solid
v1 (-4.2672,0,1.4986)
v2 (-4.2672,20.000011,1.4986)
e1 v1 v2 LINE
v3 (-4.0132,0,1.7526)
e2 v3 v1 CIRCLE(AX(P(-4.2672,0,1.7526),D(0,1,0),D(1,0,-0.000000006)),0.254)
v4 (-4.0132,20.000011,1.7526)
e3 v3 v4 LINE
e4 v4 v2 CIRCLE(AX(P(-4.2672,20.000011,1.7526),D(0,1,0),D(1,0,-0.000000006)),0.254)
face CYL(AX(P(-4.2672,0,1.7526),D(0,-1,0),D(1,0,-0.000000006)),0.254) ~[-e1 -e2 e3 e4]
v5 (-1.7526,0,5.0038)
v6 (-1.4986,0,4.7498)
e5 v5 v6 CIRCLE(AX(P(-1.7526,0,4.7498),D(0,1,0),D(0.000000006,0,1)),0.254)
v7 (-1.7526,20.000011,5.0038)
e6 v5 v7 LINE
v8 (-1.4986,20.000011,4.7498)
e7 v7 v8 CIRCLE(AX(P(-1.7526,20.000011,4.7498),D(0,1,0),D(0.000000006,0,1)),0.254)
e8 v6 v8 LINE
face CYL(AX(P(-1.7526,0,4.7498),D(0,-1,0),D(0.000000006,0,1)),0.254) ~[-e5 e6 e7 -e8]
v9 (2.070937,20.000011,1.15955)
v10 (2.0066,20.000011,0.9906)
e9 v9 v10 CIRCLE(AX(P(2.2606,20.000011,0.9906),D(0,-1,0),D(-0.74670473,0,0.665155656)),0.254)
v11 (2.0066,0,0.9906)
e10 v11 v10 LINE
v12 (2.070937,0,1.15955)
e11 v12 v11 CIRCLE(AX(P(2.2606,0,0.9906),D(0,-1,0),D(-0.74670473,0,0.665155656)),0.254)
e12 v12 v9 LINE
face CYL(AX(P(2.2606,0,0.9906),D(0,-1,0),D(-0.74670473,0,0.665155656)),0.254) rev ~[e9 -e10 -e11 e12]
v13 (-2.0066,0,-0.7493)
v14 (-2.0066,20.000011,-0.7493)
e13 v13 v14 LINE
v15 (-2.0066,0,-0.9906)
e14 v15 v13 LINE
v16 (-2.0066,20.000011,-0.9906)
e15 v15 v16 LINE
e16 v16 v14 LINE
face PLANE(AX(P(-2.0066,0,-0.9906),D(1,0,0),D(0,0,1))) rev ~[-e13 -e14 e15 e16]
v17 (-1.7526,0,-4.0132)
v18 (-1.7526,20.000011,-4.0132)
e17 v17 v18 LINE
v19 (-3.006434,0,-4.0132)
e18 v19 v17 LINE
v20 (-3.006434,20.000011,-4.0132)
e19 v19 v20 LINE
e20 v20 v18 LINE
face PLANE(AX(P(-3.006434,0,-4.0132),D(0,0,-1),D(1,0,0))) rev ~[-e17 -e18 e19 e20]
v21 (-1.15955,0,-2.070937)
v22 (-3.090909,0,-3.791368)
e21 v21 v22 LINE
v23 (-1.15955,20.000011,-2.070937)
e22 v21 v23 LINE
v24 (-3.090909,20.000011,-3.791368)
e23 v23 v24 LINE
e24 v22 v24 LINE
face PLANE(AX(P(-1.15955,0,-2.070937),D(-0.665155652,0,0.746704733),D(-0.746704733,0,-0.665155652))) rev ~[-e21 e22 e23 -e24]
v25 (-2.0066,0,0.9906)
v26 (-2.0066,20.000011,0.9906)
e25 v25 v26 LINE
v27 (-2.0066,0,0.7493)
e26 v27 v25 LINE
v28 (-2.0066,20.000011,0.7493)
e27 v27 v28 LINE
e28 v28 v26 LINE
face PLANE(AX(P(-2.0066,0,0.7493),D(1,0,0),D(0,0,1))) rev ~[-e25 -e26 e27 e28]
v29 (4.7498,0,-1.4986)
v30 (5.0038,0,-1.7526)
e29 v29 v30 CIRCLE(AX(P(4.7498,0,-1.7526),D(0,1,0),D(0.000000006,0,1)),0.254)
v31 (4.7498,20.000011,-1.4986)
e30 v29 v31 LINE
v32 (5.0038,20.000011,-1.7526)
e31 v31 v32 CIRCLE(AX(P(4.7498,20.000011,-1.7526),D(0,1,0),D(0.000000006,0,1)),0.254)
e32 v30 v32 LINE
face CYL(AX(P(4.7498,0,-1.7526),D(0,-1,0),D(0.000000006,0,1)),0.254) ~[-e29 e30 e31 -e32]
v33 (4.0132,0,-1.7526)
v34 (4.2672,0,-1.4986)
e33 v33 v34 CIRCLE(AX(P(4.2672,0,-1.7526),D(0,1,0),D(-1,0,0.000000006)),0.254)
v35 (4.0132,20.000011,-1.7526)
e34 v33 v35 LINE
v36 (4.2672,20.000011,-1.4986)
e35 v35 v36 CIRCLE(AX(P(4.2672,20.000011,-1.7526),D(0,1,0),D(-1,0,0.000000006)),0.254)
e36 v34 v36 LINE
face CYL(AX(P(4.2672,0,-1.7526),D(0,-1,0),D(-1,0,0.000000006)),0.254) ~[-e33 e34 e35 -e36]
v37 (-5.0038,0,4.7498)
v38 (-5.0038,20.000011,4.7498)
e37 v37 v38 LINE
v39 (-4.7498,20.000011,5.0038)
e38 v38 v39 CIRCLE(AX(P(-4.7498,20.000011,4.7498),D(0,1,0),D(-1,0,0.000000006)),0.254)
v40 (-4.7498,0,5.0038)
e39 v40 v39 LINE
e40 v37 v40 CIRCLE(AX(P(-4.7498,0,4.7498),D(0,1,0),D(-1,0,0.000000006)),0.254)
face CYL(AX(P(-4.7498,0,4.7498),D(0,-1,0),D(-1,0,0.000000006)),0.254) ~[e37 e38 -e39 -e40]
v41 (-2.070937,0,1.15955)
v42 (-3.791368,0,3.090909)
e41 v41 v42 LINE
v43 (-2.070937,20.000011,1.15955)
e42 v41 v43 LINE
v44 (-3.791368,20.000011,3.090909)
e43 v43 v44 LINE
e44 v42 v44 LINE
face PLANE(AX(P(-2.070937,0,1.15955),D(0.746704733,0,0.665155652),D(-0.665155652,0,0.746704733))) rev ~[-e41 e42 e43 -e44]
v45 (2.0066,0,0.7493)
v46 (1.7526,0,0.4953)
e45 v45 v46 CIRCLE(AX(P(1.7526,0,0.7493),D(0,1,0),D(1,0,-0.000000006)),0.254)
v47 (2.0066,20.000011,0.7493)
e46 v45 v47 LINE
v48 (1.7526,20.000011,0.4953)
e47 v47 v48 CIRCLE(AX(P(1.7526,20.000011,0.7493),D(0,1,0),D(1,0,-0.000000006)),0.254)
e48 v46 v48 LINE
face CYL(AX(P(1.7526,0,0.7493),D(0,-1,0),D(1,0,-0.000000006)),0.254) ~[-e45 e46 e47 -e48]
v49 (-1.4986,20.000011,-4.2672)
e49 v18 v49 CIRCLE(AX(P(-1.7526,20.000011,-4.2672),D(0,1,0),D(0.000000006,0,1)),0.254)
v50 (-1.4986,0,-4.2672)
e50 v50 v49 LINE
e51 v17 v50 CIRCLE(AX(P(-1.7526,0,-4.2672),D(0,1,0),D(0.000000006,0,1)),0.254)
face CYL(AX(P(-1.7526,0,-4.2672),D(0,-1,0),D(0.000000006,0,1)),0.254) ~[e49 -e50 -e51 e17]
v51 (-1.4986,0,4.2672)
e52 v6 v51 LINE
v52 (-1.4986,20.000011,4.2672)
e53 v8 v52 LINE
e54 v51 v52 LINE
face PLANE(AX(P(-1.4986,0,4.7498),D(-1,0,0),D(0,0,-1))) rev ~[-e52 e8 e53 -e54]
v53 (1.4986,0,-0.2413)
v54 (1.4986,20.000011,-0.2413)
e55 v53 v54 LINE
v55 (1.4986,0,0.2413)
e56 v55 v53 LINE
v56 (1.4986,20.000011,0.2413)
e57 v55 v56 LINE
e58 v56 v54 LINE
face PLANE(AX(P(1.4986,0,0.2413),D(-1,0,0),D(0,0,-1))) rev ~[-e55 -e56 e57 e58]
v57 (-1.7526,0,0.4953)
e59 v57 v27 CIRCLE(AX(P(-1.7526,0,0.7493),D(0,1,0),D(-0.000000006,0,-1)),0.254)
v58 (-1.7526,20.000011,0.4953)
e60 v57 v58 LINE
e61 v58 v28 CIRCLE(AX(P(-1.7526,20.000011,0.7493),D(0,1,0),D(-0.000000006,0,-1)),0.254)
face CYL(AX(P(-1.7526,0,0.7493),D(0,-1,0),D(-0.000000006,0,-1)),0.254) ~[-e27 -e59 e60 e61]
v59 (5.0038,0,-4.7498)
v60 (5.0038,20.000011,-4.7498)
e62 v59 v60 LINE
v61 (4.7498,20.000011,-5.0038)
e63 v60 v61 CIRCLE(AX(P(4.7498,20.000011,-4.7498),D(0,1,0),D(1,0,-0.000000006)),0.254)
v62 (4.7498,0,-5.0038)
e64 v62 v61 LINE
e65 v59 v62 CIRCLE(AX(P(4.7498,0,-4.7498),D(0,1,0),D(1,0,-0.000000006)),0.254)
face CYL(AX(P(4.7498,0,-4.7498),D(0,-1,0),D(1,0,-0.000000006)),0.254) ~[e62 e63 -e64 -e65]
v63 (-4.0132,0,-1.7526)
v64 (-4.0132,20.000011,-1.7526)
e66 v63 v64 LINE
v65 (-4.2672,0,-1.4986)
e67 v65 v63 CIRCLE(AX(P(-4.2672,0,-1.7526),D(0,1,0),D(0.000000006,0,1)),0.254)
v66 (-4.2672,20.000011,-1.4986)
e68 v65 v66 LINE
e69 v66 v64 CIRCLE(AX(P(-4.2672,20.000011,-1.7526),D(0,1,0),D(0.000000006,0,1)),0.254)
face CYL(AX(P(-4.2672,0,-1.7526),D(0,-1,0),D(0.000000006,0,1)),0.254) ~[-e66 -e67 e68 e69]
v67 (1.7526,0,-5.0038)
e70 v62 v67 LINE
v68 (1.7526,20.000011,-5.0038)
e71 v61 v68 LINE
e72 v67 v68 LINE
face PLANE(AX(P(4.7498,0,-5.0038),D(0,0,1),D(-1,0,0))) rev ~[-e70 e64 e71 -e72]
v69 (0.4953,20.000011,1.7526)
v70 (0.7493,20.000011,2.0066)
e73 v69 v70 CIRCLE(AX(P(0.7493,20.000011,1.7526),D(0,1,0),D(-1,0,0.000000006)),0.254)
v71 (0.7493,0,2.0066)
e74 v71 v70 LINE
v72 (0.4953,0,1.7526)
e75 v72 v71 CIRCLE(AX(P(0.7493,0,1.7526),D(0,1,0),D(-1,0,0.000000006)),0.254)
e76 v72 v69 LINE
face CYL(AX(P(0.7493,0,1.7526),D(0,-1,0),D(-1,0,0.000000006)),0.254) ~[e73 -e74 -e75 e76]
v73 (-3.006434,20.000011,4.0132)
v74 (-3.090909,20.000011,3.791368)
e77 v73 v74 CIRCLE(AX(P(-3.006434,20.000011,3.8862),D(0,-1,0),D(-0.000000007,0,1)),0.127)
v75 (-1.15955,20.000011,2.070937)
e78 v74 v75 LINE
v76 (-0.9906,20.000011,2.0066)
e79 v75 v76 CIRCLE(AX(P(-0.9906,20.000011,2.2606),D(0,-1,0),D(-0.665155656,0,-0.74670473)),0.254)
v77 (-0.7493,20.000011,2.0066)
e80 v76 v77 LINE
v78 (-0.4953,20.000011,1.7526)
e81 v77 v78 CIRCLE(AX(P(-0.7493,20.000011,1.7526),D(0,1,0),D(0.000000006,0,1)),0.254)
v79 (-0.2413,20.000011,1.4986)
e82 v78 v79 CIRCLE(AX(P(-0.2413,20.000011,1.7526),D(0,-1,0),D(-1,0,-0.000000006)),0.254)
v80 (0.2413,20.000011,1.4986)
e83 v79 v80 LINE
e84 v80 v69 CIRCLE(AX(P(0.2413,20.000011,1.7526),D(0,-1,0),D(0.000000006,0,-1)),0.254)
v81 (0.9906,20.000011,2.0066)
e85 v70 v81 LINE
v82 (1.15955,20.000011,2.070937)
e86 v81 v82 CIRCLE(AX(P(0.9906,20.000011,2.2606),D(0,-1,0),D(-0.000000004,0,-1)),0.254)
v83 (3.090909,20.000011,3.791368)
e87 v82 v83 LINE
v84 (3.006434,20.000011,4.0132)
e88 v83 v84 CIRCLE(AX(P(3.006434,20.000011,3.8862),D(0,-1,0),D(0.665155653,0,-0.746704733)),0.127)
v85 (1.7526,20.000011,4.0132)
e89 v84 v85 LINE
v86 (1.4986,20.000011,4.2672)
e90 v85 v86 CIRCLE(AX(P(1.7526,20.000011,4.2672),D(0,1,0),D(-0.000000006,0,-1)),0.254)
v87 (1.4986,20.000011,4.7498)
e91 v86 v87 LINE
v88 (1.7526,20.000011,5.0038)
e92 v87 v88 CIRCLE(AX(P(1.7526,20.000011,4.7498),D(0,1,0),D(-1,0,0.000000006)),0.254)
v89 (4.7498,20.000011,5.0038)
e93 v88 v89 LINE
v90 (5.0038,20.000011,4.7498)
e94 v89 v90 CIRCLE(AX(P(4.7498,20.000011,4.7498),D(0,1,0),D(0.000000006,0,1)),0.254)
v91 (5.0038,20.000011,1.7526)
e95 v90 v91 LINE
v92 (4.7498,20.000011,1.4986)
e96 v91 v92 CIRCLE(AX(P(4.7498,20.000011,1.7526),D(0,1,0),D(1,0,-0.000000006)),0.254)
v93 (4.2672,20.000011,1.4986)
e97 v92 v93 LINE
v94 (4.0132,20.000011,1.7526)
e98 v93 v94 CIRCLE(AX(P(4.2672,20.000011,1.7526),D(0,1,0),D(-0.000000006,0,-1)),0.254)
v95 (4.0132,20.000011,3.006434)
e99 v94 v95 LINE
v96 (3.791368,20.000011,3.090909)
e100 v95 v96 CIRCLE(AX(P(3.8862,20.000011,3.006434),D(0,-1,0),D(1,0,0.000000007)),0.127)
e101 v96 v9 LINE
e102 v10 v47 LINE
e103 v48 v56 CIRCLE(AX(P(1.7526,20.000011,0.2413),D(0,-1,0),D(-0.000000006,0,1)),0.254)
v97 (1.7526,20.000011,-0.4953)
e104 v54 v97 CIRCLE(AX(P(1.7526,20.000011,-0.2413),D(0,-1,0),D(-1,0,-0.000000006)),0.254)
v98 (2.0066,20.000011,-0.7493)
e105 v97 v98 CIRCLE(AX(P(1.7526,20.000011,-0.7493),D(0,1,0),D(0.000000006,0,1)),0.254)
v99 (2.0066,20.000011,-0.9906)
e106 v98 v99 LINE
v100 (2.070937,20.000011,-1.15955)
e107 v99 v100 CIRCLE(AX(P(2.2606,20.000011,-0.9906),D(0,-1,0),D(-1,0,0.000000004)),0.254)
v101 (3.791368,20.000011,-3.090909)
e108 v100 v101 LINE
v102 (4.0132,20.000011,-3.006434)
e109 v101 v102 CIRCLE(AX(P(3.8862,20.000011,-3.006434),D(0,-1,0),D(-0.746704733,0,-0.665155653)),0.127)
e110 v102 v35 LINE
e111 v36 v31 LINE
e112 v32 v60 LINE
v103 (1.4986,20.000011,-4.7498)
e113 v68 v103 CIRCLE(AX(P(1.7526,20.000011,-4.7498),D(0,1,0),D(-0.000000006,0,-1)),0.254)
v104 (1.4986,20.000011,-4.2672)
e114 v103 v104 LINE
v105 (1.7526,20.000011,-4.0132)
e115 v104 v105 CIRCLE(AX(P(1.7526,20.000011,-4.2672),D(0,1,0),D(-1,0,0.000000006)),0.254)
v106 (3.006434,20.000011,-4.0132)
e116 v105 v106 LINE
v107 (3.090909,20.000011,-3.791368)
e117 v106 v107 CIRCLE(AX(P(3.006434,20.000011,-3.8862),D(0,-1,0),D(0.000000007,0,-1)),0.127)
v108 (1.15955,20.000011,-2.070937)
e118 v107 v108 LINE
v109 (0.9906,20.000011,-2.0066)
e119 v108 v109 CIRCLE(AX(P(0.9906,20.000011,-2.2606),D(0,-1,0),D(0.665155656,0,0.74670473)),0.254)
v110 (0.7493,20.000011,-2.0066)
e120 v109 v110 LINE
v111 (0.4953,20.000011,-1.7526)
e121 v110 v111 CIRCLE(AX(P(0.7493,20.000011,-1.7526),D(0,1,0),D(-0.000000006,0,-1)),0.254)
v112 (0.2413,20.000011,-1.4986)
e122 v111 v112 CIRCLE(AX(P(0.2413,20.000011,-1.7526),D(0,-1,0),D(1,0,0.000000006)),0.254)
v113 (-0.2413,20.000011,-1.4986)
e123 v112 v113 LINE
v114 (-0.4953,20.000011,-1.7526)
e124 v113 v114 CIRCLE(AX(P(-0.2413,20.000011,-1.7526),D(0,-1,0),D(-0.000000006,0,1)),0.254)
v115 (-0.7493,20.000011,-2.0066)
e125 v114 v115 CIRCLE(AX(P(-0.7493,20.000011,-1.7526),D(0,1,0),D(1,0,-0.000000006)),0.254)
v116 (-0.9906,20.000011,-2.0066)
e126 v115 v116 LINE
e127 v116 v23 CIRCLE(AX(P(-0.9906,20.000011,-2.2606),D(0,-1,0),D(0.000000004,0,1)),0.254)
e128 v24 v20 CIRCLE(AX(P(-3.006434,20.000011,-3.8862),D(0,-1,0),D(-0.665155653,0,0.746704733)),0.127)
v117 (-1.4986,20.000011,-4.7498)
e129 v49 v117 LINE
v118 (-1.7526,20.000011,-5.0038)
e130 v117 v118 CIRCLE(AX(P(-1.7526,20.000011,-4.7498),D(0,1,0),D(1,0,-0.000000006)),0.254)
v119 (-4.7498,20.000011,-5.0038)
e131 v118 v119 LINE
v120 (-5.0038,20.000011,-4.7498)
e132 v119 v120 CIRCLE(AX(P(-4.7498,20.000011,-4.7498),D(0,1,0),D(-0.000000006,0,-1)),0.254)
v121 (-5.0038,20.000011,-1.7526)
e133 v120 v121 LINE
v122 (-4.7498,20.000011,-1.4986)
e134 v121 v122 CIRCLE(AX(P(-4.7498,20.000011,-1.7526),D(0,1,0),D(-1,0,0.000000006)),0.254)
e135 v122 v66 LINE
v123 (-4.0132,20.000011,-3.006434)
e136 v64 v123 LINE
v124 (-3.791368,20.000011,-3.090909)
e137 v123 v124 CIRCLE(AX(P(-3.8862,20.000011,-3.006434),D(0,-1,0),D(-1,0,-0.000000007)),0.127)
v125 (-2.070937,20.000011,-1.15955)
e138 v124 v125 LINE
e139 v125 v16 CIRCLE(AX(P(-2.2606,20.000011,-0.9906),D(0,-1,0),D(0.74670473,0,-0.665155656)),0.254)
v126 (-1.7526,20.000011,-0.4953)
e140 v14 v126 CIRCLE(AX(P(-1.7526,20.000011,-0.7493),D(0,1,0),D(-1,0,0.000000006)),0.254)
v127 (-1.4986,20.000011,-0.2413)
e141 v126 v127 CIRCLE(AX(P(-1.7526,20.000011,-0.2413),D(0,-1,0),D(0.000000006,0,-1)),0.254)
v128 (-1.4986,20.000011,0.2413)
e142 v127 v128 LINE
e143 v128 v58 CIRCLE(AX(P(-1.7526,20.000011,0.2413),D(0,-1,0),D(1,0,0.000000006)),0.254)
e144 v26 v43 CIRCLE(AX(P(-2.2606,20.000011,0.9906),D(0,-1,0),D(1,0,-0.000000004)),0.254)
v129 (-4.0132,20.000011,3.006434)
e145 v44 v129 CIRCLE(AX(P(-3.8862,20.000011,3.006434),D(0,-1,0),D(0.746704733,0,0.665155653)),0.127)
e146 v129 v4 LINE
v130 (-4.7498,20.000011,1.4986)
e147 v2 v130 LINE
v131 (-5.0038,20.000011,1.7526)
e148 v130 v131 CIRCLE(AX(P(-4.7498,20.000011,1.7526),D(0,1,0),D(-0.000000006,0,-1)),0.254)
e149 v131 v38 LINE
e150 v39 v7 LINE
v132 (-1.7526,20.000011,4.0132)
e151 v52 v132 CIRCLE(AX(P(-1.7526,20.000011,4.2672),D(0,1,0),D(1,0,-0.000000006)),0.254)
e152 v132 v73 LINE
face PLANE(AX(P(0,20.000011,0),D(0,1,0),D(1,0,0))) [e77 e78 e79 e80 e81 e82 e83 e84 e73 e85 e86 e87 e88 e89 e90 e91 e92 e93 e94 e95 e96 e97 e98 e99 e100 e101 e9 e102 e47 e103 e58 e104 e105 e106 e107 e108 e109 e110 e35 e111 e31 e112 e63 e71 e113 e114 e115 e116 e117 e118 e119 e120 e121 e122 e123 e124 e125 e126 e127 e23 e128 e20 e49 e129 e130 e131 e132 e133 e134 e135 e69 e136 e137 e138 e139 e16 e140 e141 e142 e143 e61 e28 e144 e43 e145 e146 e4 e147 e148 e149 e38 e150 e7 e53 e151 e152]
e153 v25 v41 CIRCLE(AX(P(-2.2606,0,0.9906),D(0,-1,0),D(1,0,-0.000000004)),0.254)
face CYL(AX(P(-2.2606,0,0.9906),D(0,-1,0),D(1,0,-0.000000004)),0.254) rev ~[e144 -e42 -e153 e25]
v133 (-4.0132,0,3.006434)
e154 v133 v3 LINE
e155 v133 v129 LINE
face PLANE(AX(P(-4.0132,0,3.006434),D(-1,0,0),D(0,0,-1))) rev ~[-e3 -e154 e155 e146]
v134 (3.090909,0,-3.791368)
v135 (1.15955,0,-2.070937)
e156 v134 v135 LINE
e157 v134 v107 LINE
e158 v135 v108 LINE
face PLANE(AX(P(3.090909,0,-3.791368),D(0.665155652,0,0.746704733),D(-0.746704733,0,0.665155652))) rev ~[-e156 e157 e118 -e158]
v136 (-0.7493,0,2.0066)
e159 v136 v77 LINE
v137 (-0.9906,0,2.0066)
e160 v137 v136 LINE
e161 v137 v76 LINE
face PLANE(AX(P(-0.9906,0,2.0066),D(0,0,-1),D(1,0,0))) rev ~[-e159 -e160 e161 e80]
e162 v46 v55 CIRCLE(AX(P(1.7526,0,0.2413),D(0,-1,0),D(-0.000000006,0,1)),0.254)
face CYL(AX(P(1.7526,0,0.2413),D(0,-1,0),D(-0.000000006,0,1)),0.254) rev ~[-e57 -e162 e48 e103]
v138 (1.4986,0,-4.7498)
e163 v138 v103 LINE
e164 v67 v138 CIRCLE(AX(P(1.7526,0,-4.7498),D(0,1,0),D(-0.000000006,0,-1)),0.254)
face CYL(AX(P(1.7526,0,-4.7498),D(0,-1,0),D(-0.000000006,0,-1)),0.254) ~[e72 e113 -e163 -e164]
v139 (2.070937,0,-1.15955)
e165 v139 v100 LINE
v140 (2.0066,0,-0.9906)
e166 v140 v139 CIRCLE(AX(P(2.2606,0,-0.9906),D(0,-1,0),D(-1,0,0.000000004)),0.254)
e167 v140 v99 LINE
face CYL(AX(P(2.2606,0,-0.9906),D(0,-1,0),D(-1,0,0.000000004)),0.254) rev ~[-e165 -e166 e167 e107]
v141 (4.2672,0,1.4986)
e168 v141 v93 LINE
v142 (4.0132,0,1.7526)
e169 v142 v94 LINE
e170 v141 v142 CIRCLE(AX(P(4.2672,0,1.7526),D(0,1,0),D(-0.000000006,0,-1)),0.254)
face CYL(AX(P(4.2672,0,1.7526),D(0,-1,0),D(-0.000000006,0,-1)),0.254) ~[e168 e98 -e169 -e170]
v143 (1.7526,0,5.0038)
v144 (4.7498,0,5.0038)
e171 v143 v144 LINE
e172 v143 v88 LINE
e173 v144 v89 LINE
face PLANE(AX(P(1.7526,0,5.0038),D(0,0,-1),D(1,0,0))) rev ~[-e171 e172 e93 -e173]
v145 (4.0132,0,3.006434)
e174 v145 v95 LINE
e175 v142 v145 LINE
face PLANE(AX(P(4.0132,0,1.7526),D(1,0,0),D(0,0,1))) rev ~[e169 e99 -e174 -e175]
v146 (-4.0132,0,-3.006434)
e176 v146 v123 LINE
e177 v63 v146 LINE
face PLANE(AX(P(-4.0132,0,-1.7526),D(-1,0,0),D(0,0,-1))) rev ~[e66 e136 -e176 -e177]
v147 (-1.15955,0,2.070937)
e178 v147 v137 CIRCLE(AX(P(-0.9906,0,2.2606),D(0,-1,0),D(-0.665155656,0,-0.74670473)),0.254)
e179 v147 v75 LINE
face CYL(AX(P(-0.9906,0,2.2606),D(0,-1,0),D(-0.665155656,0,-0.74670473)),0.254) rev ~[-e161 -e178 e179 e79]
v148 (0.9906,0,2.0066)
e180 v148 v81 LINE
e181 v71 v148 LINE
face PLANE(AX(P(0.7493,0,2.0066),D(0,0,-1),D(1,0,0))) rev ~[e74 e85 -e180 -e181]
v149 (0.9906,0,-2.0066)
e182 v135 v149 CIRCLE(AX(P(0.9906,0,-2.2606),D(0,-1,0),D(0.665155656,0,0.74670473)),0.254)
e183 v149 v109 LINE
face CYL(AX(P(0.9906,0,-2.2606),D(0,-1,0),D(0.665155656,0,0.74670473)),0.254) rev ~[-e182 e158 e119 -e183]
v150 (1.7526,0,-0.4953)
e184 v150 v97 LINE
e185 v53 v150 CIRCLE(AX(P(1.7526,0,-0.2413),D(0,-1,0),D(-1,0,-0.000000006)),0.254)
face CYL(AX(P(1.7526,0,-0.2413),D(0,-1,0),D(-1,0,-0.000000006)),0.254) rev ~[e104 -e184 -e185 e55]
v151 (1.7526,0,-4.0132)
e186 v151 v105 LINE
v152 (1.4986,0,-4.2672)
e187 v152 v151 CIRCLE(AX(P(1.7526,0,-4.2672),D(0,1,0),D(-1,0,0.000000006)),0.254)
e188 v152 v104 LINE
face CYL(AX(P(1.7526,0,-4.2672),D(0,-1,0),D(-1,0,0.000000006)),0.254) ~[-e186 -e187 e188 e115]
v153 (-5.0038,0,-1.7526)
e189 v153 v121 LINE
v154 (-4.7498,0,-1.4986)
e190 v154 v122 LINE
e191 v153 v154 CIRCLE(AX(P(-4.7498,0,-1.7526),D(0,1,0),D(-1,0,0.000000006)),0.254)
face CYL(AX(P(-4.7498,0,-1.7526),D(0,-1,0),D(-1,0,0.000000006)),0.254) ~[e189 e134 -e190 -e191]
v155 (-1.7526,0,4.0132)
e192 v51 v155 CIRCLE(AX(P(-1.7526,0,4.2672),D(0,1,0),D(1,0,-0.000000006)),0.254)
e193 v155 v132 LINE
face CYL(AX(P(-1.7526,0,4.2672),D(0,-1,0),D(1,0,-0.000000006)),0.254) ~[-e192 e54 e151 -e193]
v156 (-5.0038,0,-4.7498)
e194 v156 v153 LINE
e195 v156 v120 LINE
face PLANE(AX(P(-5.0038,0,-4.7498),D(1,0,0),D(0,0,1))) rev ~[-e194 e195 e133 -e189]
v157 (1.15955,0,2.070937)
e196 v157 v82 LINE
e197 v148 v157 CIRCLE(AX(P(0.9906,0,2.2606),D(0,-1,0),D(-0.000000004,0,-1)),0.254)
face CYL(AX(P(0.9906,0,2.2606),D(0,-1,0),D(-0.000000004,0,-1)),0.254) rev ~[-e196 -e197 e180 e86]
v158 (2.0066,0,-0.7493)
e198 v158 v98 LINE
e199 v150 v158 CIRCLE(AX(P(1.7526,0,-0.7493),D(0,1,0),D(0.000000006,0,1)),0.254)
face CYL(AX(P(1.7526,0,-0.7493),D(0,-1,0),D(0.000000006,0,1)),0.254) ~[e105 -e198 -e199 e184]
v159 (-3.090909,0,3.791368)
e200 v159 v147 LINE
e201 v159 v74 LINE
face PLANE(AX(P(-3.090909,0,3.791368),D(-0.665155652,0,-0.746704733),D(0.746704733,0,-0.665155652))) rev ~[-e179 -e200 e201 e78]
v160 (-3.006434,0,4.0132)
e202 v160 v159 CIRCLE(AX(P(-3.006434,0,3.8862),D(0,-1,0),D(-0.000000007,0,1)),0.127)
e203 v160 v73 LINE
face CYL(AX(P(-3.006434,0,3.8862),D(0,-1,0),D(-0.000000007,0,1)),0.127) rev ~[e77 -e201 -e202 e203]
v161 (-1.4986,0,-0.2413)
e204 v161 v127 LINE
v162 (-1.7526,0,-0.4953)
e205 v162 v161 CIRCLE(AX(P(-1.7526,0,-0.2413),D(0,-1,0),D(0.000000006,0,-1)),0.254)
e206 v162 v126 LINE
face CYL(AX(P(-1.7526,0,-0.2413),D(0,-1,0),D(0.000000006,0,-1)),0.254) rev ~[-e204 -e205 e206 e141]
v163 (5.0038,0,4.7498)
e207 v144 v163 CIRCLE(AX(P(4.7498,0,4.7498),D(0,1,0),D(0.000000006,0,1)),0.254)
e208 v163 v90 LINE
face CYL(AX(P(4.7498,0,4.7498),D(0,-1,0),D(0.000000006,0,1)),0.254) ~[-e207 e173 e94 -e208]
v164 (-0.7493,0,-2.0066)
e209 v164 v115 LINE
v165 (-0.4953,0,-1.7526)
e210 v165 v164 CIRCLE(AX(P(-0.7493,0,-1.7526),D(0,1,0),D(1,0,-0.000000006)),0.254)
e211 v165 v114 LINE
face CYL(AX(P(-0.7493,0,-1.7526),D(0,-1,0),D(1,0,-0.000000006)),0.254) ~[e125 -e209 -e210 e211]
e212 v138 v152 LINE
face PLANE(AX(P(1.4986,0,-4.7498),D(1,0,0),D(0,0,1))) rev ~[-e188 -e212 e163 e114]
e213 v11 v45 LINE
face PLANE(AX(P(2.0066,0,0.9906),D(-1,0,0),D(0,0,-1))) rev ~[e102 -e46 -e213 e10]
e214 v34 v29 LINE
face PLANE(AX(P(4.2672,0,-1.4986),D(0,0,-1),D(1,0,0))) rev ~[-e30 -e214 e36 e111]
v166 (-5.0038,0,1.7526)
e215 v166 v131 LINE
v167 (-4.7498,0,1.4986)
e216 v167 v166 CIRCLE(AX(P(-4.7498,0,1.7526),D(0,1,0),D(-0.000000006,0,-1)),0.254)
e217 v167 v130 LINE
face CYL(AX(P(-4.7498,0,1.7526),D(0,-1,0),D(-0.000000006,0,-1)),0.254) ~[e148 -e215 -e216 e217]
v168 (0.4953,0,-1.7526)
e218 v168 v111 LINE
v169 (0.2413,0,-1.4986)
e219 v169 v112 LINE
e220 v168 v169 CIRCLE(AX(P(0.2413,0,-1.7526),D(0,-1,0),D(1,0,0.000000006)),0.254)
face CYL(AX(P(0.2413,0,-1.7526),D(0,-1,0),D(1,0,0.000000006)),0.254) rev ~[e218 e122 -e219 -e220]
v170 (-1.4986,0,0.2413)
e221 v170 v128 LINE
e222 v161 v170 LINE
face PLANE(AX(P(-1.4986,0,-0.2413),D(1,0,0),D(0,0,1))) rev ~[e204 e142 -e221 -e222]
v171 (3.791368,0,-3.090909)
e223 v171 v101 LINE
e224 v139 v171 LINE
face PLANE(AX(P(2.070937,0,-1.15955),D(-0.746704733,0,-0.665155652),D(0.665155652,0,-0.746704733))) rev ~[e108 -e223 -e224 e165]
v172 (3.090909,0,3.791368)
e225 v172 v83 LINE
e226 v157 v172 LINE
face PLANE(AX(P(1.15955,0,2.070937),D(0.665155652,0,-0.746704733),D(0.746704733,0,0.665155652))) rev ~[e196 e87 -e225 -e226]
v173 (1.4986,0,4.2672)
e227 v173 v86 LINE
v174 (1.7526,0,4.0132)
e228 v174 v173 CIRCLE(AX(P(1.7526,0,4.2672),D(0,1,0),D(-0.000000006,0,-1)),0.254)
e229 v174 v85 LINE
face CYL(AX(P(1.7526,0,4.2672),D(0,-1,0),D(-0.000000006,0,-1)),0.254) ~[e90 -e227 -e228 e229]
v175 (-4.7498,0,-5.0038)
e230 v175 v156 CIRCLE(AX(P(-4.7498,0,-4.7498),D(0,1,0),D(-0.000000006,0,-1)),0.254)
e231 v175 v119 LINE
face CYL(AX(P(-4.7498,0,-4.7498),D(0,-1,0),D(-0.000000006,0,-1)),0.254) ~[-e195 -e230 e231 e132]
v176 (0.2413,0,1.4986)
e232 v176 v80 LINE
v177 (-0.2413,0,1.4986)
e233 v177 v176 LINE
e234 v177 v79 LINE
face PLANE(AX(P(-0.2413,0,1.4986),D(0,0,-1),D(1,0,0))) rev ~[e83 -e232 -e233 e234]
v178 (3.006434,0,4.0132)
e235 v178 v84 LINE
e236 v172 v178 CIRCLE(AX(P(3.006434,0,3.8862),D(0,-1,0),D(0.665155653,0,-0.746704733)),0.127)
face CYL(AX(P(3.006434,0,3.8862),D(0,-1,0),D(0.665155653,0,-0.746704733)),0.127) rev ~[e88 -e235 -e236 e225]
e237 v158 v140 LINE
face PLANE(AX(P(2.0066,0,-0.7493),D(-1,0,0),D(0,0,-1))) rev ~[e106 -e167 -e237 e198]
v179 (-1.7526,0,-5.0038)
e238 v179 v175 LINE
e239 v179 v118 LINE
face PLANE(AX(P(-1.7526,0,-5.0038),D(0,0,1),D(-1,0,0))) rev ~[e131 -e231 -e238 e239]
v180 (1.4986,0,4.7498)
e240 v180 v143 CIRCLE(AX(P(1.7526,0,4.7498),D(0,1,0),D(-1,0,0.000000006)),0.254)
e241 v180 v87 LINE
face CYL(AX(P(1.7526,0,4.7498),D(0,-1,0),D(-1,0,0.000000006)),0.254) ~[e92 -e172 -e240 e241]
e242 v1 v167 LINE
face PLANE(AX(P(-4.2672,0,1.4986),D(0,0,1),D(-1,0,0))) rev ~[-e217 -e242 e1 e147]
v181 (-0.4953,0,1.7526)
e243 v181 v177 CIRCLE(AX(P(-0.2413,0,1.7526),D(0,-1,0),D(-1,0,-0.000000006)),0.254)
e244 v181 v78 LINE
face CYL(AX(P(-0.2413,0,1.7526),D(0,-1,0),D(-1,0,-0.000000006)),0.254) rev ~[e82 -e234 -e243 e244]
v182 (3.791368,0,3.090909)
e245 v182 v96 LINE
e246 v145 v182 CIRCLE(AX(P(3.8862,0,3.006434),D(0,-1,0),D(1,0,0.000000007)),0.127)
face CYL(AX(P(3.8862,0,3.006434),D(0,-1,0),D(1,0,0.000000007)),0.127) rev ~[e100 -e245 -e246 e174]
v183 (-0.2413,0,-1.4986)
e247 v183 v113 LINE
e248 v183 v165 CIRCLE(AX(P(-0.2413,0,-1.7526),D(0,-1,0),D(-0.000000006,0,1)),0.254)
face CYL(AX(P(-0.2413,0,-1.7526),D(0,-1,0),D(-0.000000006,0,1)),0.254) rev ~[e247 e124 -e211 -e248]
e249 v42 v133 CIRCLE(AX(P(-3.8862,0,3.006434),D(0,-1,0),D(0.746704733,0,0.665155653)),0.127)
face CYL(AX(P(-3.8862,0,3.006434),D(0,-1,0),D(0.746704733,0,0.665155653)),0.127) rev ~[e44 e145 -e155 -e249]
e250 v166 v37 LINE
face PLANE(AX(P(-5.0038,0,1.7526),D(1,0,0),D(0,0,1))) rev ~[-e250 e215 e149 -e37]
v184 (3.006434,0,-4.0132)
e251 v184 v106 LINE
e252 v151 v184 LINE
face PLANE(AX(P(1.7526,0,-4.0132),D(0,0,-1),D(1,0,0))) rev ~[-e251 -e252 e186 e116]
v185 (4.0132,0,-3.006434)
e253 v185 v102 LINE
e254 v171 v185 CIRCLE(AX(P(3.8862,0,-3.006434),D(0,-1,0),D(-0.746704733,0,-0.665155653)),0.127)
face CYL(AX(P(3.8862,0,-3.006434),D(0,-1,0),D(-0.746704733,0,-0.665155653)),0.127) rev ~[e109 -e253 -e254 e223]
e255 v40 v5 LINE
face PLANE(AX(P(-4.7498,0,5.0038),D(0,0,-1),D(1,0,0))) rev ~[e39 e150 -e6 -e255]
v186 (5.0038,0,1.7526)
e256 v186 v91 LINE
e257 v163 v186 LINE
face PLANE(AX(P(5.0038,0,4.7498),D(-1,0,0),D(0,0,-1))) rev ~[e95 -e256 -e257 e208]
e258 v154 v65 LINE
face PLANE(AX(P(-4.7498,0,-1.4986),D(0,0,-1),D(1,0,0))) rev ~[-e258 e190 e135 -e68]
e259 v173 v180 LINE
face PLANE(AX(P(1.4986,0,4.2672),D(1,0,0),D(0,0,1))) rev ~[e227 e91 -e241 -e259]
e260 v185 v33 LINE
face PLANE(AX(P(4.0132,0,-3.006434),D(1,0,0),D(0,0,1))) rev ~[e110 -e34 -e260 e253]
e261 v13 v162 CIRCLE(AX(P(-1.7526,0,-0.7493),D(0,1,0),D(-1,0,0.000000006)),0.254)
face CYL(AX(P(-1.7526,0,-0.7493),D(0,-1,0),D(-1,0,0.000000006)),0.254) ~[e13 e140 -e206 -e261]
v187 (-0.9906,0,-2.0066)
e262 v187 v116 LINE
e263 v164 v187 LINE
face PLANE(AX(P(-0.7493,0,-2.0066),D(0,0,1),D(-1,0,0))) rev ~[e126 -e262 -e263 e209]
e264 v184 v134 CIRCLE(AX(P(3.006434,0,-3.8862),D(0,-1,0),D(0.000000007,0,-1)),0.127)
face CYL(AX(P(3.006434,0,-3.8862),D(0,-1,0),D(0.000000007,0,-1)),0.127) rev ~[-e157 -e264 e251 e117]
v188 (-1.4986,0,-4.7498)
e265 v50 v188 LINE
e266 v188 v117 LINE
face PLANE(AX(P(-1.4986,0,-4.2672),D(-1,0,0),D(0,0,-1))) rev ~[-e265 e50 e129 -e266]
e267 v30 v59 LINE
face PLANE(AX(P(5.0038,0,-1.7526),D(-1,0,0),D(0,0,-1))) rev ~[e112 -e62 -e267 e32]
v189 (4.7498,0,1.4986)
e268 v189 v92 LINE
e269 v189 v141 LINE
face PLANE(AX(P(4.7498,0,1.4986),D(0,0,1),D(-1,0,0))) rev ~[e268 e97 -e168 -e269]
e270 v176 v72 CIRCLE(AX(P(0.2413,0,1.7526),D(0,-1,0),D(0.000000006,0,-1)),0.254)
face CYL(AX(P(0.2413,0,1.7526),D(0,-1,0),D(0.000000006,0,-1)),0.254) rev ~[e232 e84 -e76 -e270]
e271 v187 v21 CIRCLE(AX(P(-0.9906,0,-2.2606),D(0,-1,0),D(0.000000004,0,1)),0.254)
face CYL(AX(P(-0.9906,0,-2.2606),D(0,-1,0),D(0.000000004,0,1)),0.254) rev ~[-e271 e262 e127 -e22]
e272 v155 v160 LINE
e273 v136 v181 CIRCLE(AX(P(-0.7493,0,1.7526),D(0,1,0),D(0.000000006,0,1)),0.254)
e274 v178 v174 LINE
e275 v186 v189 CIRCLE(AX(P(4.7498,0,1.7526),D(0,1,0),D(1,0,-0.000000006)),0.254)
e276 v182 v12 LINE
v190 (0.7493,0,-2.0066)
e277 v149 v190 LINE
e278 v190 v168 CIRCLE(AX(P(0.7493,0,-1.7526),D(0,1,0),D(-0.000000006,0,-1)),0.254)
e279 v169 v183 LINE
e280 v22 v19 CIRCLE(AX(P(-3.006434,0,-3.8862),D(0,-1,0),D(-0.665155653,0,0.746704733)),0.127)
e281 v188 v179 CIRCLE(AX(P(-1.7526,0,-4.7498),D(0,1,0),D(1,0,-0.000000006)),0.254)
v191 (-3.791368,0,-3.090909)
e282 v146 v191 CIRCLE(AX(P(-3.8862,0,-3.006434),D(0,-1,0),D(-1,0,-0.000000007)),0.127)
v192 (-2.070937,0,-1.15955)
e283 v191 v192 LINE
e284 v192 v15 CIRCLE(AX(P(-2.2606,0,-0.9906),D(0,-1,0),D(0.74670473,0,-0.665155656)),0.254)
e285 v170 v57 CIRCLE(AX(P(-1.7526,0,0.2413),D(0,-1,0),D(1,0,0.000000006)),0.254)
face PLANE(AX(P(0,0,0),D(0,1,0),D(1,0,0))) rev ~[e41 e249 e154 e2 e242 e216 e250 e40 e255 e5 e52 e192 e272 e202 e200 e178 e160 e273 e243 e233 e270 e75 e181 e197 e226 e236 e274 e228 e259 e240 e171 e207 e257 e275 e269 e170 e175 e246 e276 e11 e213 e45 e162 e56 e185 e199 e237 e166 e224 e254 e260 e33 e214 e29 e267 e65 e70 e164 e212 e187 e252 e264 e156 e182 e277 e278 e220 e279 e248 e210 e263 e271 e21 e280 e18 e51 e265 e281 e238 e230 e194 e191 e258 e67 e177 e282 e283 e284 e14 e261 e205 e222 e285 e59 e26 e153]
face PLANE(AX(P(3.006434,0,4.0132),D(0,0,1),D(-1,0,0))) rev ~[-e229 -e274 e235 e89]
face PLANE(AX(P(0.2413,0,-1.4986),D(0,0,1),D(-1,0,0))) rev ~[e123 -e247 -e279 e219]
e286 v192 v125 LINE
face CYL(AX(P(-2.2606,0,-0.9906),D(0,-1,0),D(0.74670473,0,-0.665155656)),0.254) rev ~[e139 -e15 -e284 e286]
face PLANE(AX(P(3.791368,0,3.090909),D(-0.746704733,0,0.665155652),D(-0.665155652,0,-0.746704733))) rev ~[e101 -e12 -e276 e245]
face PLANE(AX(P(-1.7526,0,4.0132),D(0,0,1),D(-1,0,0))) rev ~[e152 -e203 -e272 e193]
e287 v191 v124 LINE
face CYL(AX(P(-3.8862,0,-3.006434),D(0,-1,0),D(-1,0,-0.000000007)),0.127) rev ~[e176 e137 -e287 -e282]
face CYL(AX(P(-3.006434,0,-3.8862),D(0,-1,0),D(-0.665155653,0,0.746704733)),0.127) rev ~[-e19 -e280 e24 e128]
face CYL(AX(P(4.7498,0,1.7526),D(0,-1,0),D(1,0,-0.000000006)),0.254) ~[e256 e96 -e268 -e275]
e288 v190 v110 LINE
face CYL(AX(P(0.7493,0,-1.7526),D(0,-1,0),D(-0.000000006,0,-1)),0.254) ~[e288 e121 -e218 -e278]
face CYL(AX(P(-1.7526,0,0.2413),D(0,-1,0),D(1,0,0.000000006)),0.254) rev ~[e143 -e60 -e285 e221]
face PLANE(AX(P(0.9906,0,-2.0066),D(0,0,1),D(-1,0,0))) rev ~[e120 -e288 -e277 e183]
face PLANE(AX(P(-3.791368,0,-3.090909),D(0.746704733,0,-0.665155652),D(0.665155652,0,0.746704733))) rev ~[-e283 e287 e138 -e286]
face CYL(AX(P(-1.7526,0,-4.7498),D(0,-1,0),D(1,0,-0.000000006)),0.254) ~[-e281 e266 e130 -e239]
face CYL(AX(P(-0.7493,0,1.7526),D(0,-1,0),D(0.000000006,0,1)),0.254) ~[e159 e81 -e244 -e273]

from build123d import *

# Parameters (mm, degrees)
BOSS_EXTRUDE1_DEPTH = 20.0000108


with BuildPart() as part:
    # Sketch1 → Boss-Extrude1 (new body)
    with BuildSketch(Plane(origin=(0, 0, 0), x_dir=(1, 0, 0), z_dir=(0, 1, 0))):
        with BuildLine():
            Line((-1.159549536, 2.070936998), (-3.090908521, 3.791368499))
            ThreePointArc((-3.090908521, 3.791368499), (-3.125119474, 3.931396235), (-3.006433754, 4.0132))
            Line((-3.006433754, 4.0132), (-1.7526, 4.0132))
            ThreePointArc((-1.7526, 4.0132), (-1.572994878, 4.087594878), (-1.4986, 4.2672))
            Line((-1.4986, 4.2672), (-1.4986, 4.7498))
            ThreePointArc((-1.4986, 4.7498), (-1.572994878, 4.929405122), (-1.7526, 5.0038))
            Line((-1.7526, 5.0038), (-4.7498, 5.0038))
            ThreePointArc((-4.7498, 5.0038), (-4.929405122, 4.929405122), (-5.0038, 4.7498))
            Line((-5.0038, 4.7498), (-5.0038, 1.7526))
            ThreePointArc((-5.0038, 1.7526), (-4.929405122, 1.572994878), (-4.7498, 1.4986))
            Line((-4.7498, 1.4986), (-4.2672, 1.4986))
            ThreePointArc((-4.2672, 1.4986), (-4.087594878, 1.572994878), (-4.0132, 1.7526))
            Line((-4.0132, 1.7526), (-4.0132, 3.006433754))
            ThreePointArc((-4.0132, 3.006433754), (-3.931396235, 3.125119474), (-3.791368499, 3.090908521))
            Line((-3.791368499, 3.090908521), (-2.070936998, 1.159549536))
            ThreePointArc((-2.070936998, 1.159549536), (-2.023228558, 1.08099247), (-2.0066, 0.9906))
            Line((-2.0066, 0.9906), (-2.0066, 0.7493))
            ThreePointArc((-2.0066, 0.7493), (-1.932205122, 0.569694878), (-1.7526, 0.4953))
            ThreePointArc((-1.7526, 0.4953), (-1.572994878, 0.420905122), (-1.4986, 0.2413))
            Line((-1.4986, 0.2413), (-1.4986, -0.2413))
            ThreePointArc((-1.4986, -0.2413), (-1.572994878, -0.420905122), (-1.7526, -0.4953))
            ThreePointArc((-1.7526, -0.4953), (-1.932205122, -0.569694878), (-2.0066, -0.7493))
            Line((-2.0066, -0.7493), (-2.0066, -0.9906))
            ThreePointArc((-2.0066, -0.9906), (-2.023228558, -1.08099247), (-2.070936998, -1.159549536))
            Line((-2.070936998, -1.159549536), (-3.791368499, -3.090908521))
            ThreePointArc((-3.791368499, -3.090908521), (-3.931396235, -3.125119474), (-4.0132, -3.006433754))
            Line((-4.0132, -3.006433754), (-4.0132, -1.7526))
            ThreePointArc((-4.0132, -1.7526), (-4.087594878, -1.572994878), (-4.2672, -1.4986))
            Line((-4.2672, -1.4986), (-4.7498, -1.4986))
            ThreePointArc((-4.7498, -1.4986), (-4.929405122, -1.572994878), (-5.0038, -1.7526))
            Line((-5.0038, -1.7526), (-5.0038, -4.7498))
            ThreePointArc((-5.0038, -4.7498), (-4.929405122, -4.929405122), (-4.7498, -5.0038))
            Line((-4.7498, -5.0038), (-1.7526, -5.0038))
            ThreePointArc((-1.7526, -5.0038), (-1.572994878, -4.929405122), (-1.4986, -4.7498))
            Line((-1.4986, -4.7498), (-1.4986, -4.2672))
            ThreePointArc((-1.4986, -4.2672), (-1.572994878, -4.087594878), (-1.7526, -4.0132))
            Line((-1.7526, -4.0132), (-3.006433754, -4.0132))
            ThreePointArc((-3.006433754, -4.0132), (-3.125119474, -3.931396235), (-3.090908521, -3.791368499))
            Line((-3.090908521, -3.791368499), (-1.159549536, -2.070936998))
            ThreePointArc((-1.159549536, -2.070936998), (-1.08099247, -2.023228558), (-0.9906, -2.0066))
            Line((-0.9906, -2.0066), (-0.7493, -2.0066))
            ThreePointArc((-0.7493, -2.0066), (-0.569694878, -1.932205122), (-0.4953, -1.7526))
            ThreePointArc((-0.4953, -1.7526), (-0.420905122, -1.572994878), (-0.2413, -1.4986))
            Line((-0.2413, -1.4986), (0.2413, -1.4986))
            ThreePointArc((0.2413, -1.4986), (0.420905122, -1.572994878), (0.4953, -1.7526))
            ThreePointArc((0.4953, -1.7526), (0.569694878, -1.932205122), (0.7493, -2.0066))
            Line((0.7493, -2.0066), (0.9906, -2.0066))
            ThreePointArc((0.9906, -2.0066), (1.08099247, -2.023228558), (1.159549536, -2.070936998))
            Line((1.159549536, -2.070936998), (3.090908521, -3.791368499))
            ThreePointArc((3.090908521, -3.791368499), (3.125119474, -3.931396235), (3.006433754, -4.0132))
            Line((3.006433754, -4.0132), (1.7526, -4.0132))
            ThreePointArc((1.7526, -4.0132), (1.572994878, -4.087594878), (1.4986, -4.2672))
            Line((1.4986, -4.2672), (1.4986, -4.7498))
            ThreePointArc((1.4986, -4.7498), (1.572994878, -4.929405122), (1.7526, -5.0038))
            Line((1.7526, -5.0038), (4.7498, -5.0038))
            ThreePointArc((4.7498, -5.0038), (4.929405122, -4.929405122), (5.0038, -4.7498))
            Line((5.0038, -4.7498), (5.0038, -1.7526))
            ThreePointArc((5.0038, -1.7526), (4.929405122, -1.572994878), (4.7498, -1.4986))
            Line((4.7498, -1.4986), (4.2672, -1.4986))
            ThreePointArc((4.2672, -1.4986), (4.087594878, -1.572994878), (4.0132, -1.7526))
            Line((4.0132, -1.7526), (4.0132, -3.006433754))
            ThreePointArc((4.0132, -3.006433754), (3.931396235, -3.125119474), (3.791368499, -3.090908521))
            Line((3.791368499, -3.090908521), (2.070936998, -1.159549536))
            ThreePointArc((2.070936998, -1.159549536), (2.023228558, -1.08099247), (2.0066, -0.9906))
            Line((2.0066, -0.9906), (2.0066, -0.7493))
            ThreePointArc((2.0066, -0.7493), (1.932205122, -0.569694878), (1.7526, -0.4953))
            ThreePointArc((1.7526, -0.4953), (1.572994878, -0.420905122), (1.4986, -0.2413))
            Line((1.4986, -0.2413), (1.4986, 0.2413))
            ThreePointArc((1.4986, 0.2413), (1.572994878, 0.420905122), (1.7526, 0.4953))
            ThreePointArc((1.7526, 0.4953), (1.932205122, 0.569694878), (2.0066, 0.7493))
            Line((2.0066, 0.7493), (2.0066, 0.9906))
            ThreePointArc((2.0066, 0.9906), (2.023228558, 1.08099247), (2.070936998, 1.159549536))
            Line((2.070936998, 1.159549536), (3.791368499, 3.090908521))
            ThreePointArc((3.791368499, 3.090908521), (3.931396235, 3.125119474), (4.0132, 3.006433754))
            Line((4.0132, 3.006433754), (4.0132, 1.7526))
            ThreePointArc((4.0132, 1.7526), (4.087594878, 1.572994878), (4.2672, 1.4986))
            Line((4.2672, 1.4986), (4.7498, 1.4986))
            ThreePointArc((4.7498, 1.4986), (4.929405122, 1.572994878), (5.0038, 1.7526))
            Line((5.0038, 1.7526), (5.0038, 4.7498))
            ThreePointArc((5.0038, 4.7498), (4.929405122, 4.929405122), (4.7498, 5.0038))
            Line((4.7498, 5.0038), (1.7526, 5.0038))
            ThreePointArc((1.7526, 5.0038), (1.572994878, 4.929405122), (1.4986, 4.7498))
            Line((1.4986, 4.7498), (1.4986, 4.2672))
            ThreePointArc((1.4986, 4.2672), (1.572994878, 4.087594878), (1.7526, 4.0132))
            Line((1.7526, 4.0132), (3.006433754, 4.0132))
            ThreePointArc((3.006433754, 4.0132), (3.125119474, 3.931396235), (3.090908521, 3.791368499))
            Line((3.090908521, 3.791368499), (1.159549536, 2.070936998))
            ThreePointArc((1.159549536, 2.070936998), (1.08099247, 2.023228558), (0.9906, 2.0066))
            Line((0.9906, 2.0066), (0.7493, 2.0066))
            ThreePointArc((0.7493, 2.0066), (0.569694878, 1.932205122), (0.4953, 1.7526))
            ThreePointArc((0.4953, 1.7526), (0.420905122, 1.572994878), (0.2413, 1.4986))
            Line((0.2413, 1.4986), (-0.2413, 1.4986))
            ThreePointArc((-0.2413, 1.4986), (-0.420905122, 1.572994878), (-0.4953, 1.7526))
            ThreePointArc((-0.4953, 1.7526), (-0.569694878, 1.932205122), (-0.7493, 2.0066))
            Line((-0.7493, 2.0066), (-0.9906, 2.0066))
            ThreePointArc((-0.9906, 2.0066), (-1.08099247, 2.023228558), (-1.159549536, 2.070936998))
        make_face()
    extrude(amount=BOSS_EXTRUDE1_DEPTH)


solid = part.part
